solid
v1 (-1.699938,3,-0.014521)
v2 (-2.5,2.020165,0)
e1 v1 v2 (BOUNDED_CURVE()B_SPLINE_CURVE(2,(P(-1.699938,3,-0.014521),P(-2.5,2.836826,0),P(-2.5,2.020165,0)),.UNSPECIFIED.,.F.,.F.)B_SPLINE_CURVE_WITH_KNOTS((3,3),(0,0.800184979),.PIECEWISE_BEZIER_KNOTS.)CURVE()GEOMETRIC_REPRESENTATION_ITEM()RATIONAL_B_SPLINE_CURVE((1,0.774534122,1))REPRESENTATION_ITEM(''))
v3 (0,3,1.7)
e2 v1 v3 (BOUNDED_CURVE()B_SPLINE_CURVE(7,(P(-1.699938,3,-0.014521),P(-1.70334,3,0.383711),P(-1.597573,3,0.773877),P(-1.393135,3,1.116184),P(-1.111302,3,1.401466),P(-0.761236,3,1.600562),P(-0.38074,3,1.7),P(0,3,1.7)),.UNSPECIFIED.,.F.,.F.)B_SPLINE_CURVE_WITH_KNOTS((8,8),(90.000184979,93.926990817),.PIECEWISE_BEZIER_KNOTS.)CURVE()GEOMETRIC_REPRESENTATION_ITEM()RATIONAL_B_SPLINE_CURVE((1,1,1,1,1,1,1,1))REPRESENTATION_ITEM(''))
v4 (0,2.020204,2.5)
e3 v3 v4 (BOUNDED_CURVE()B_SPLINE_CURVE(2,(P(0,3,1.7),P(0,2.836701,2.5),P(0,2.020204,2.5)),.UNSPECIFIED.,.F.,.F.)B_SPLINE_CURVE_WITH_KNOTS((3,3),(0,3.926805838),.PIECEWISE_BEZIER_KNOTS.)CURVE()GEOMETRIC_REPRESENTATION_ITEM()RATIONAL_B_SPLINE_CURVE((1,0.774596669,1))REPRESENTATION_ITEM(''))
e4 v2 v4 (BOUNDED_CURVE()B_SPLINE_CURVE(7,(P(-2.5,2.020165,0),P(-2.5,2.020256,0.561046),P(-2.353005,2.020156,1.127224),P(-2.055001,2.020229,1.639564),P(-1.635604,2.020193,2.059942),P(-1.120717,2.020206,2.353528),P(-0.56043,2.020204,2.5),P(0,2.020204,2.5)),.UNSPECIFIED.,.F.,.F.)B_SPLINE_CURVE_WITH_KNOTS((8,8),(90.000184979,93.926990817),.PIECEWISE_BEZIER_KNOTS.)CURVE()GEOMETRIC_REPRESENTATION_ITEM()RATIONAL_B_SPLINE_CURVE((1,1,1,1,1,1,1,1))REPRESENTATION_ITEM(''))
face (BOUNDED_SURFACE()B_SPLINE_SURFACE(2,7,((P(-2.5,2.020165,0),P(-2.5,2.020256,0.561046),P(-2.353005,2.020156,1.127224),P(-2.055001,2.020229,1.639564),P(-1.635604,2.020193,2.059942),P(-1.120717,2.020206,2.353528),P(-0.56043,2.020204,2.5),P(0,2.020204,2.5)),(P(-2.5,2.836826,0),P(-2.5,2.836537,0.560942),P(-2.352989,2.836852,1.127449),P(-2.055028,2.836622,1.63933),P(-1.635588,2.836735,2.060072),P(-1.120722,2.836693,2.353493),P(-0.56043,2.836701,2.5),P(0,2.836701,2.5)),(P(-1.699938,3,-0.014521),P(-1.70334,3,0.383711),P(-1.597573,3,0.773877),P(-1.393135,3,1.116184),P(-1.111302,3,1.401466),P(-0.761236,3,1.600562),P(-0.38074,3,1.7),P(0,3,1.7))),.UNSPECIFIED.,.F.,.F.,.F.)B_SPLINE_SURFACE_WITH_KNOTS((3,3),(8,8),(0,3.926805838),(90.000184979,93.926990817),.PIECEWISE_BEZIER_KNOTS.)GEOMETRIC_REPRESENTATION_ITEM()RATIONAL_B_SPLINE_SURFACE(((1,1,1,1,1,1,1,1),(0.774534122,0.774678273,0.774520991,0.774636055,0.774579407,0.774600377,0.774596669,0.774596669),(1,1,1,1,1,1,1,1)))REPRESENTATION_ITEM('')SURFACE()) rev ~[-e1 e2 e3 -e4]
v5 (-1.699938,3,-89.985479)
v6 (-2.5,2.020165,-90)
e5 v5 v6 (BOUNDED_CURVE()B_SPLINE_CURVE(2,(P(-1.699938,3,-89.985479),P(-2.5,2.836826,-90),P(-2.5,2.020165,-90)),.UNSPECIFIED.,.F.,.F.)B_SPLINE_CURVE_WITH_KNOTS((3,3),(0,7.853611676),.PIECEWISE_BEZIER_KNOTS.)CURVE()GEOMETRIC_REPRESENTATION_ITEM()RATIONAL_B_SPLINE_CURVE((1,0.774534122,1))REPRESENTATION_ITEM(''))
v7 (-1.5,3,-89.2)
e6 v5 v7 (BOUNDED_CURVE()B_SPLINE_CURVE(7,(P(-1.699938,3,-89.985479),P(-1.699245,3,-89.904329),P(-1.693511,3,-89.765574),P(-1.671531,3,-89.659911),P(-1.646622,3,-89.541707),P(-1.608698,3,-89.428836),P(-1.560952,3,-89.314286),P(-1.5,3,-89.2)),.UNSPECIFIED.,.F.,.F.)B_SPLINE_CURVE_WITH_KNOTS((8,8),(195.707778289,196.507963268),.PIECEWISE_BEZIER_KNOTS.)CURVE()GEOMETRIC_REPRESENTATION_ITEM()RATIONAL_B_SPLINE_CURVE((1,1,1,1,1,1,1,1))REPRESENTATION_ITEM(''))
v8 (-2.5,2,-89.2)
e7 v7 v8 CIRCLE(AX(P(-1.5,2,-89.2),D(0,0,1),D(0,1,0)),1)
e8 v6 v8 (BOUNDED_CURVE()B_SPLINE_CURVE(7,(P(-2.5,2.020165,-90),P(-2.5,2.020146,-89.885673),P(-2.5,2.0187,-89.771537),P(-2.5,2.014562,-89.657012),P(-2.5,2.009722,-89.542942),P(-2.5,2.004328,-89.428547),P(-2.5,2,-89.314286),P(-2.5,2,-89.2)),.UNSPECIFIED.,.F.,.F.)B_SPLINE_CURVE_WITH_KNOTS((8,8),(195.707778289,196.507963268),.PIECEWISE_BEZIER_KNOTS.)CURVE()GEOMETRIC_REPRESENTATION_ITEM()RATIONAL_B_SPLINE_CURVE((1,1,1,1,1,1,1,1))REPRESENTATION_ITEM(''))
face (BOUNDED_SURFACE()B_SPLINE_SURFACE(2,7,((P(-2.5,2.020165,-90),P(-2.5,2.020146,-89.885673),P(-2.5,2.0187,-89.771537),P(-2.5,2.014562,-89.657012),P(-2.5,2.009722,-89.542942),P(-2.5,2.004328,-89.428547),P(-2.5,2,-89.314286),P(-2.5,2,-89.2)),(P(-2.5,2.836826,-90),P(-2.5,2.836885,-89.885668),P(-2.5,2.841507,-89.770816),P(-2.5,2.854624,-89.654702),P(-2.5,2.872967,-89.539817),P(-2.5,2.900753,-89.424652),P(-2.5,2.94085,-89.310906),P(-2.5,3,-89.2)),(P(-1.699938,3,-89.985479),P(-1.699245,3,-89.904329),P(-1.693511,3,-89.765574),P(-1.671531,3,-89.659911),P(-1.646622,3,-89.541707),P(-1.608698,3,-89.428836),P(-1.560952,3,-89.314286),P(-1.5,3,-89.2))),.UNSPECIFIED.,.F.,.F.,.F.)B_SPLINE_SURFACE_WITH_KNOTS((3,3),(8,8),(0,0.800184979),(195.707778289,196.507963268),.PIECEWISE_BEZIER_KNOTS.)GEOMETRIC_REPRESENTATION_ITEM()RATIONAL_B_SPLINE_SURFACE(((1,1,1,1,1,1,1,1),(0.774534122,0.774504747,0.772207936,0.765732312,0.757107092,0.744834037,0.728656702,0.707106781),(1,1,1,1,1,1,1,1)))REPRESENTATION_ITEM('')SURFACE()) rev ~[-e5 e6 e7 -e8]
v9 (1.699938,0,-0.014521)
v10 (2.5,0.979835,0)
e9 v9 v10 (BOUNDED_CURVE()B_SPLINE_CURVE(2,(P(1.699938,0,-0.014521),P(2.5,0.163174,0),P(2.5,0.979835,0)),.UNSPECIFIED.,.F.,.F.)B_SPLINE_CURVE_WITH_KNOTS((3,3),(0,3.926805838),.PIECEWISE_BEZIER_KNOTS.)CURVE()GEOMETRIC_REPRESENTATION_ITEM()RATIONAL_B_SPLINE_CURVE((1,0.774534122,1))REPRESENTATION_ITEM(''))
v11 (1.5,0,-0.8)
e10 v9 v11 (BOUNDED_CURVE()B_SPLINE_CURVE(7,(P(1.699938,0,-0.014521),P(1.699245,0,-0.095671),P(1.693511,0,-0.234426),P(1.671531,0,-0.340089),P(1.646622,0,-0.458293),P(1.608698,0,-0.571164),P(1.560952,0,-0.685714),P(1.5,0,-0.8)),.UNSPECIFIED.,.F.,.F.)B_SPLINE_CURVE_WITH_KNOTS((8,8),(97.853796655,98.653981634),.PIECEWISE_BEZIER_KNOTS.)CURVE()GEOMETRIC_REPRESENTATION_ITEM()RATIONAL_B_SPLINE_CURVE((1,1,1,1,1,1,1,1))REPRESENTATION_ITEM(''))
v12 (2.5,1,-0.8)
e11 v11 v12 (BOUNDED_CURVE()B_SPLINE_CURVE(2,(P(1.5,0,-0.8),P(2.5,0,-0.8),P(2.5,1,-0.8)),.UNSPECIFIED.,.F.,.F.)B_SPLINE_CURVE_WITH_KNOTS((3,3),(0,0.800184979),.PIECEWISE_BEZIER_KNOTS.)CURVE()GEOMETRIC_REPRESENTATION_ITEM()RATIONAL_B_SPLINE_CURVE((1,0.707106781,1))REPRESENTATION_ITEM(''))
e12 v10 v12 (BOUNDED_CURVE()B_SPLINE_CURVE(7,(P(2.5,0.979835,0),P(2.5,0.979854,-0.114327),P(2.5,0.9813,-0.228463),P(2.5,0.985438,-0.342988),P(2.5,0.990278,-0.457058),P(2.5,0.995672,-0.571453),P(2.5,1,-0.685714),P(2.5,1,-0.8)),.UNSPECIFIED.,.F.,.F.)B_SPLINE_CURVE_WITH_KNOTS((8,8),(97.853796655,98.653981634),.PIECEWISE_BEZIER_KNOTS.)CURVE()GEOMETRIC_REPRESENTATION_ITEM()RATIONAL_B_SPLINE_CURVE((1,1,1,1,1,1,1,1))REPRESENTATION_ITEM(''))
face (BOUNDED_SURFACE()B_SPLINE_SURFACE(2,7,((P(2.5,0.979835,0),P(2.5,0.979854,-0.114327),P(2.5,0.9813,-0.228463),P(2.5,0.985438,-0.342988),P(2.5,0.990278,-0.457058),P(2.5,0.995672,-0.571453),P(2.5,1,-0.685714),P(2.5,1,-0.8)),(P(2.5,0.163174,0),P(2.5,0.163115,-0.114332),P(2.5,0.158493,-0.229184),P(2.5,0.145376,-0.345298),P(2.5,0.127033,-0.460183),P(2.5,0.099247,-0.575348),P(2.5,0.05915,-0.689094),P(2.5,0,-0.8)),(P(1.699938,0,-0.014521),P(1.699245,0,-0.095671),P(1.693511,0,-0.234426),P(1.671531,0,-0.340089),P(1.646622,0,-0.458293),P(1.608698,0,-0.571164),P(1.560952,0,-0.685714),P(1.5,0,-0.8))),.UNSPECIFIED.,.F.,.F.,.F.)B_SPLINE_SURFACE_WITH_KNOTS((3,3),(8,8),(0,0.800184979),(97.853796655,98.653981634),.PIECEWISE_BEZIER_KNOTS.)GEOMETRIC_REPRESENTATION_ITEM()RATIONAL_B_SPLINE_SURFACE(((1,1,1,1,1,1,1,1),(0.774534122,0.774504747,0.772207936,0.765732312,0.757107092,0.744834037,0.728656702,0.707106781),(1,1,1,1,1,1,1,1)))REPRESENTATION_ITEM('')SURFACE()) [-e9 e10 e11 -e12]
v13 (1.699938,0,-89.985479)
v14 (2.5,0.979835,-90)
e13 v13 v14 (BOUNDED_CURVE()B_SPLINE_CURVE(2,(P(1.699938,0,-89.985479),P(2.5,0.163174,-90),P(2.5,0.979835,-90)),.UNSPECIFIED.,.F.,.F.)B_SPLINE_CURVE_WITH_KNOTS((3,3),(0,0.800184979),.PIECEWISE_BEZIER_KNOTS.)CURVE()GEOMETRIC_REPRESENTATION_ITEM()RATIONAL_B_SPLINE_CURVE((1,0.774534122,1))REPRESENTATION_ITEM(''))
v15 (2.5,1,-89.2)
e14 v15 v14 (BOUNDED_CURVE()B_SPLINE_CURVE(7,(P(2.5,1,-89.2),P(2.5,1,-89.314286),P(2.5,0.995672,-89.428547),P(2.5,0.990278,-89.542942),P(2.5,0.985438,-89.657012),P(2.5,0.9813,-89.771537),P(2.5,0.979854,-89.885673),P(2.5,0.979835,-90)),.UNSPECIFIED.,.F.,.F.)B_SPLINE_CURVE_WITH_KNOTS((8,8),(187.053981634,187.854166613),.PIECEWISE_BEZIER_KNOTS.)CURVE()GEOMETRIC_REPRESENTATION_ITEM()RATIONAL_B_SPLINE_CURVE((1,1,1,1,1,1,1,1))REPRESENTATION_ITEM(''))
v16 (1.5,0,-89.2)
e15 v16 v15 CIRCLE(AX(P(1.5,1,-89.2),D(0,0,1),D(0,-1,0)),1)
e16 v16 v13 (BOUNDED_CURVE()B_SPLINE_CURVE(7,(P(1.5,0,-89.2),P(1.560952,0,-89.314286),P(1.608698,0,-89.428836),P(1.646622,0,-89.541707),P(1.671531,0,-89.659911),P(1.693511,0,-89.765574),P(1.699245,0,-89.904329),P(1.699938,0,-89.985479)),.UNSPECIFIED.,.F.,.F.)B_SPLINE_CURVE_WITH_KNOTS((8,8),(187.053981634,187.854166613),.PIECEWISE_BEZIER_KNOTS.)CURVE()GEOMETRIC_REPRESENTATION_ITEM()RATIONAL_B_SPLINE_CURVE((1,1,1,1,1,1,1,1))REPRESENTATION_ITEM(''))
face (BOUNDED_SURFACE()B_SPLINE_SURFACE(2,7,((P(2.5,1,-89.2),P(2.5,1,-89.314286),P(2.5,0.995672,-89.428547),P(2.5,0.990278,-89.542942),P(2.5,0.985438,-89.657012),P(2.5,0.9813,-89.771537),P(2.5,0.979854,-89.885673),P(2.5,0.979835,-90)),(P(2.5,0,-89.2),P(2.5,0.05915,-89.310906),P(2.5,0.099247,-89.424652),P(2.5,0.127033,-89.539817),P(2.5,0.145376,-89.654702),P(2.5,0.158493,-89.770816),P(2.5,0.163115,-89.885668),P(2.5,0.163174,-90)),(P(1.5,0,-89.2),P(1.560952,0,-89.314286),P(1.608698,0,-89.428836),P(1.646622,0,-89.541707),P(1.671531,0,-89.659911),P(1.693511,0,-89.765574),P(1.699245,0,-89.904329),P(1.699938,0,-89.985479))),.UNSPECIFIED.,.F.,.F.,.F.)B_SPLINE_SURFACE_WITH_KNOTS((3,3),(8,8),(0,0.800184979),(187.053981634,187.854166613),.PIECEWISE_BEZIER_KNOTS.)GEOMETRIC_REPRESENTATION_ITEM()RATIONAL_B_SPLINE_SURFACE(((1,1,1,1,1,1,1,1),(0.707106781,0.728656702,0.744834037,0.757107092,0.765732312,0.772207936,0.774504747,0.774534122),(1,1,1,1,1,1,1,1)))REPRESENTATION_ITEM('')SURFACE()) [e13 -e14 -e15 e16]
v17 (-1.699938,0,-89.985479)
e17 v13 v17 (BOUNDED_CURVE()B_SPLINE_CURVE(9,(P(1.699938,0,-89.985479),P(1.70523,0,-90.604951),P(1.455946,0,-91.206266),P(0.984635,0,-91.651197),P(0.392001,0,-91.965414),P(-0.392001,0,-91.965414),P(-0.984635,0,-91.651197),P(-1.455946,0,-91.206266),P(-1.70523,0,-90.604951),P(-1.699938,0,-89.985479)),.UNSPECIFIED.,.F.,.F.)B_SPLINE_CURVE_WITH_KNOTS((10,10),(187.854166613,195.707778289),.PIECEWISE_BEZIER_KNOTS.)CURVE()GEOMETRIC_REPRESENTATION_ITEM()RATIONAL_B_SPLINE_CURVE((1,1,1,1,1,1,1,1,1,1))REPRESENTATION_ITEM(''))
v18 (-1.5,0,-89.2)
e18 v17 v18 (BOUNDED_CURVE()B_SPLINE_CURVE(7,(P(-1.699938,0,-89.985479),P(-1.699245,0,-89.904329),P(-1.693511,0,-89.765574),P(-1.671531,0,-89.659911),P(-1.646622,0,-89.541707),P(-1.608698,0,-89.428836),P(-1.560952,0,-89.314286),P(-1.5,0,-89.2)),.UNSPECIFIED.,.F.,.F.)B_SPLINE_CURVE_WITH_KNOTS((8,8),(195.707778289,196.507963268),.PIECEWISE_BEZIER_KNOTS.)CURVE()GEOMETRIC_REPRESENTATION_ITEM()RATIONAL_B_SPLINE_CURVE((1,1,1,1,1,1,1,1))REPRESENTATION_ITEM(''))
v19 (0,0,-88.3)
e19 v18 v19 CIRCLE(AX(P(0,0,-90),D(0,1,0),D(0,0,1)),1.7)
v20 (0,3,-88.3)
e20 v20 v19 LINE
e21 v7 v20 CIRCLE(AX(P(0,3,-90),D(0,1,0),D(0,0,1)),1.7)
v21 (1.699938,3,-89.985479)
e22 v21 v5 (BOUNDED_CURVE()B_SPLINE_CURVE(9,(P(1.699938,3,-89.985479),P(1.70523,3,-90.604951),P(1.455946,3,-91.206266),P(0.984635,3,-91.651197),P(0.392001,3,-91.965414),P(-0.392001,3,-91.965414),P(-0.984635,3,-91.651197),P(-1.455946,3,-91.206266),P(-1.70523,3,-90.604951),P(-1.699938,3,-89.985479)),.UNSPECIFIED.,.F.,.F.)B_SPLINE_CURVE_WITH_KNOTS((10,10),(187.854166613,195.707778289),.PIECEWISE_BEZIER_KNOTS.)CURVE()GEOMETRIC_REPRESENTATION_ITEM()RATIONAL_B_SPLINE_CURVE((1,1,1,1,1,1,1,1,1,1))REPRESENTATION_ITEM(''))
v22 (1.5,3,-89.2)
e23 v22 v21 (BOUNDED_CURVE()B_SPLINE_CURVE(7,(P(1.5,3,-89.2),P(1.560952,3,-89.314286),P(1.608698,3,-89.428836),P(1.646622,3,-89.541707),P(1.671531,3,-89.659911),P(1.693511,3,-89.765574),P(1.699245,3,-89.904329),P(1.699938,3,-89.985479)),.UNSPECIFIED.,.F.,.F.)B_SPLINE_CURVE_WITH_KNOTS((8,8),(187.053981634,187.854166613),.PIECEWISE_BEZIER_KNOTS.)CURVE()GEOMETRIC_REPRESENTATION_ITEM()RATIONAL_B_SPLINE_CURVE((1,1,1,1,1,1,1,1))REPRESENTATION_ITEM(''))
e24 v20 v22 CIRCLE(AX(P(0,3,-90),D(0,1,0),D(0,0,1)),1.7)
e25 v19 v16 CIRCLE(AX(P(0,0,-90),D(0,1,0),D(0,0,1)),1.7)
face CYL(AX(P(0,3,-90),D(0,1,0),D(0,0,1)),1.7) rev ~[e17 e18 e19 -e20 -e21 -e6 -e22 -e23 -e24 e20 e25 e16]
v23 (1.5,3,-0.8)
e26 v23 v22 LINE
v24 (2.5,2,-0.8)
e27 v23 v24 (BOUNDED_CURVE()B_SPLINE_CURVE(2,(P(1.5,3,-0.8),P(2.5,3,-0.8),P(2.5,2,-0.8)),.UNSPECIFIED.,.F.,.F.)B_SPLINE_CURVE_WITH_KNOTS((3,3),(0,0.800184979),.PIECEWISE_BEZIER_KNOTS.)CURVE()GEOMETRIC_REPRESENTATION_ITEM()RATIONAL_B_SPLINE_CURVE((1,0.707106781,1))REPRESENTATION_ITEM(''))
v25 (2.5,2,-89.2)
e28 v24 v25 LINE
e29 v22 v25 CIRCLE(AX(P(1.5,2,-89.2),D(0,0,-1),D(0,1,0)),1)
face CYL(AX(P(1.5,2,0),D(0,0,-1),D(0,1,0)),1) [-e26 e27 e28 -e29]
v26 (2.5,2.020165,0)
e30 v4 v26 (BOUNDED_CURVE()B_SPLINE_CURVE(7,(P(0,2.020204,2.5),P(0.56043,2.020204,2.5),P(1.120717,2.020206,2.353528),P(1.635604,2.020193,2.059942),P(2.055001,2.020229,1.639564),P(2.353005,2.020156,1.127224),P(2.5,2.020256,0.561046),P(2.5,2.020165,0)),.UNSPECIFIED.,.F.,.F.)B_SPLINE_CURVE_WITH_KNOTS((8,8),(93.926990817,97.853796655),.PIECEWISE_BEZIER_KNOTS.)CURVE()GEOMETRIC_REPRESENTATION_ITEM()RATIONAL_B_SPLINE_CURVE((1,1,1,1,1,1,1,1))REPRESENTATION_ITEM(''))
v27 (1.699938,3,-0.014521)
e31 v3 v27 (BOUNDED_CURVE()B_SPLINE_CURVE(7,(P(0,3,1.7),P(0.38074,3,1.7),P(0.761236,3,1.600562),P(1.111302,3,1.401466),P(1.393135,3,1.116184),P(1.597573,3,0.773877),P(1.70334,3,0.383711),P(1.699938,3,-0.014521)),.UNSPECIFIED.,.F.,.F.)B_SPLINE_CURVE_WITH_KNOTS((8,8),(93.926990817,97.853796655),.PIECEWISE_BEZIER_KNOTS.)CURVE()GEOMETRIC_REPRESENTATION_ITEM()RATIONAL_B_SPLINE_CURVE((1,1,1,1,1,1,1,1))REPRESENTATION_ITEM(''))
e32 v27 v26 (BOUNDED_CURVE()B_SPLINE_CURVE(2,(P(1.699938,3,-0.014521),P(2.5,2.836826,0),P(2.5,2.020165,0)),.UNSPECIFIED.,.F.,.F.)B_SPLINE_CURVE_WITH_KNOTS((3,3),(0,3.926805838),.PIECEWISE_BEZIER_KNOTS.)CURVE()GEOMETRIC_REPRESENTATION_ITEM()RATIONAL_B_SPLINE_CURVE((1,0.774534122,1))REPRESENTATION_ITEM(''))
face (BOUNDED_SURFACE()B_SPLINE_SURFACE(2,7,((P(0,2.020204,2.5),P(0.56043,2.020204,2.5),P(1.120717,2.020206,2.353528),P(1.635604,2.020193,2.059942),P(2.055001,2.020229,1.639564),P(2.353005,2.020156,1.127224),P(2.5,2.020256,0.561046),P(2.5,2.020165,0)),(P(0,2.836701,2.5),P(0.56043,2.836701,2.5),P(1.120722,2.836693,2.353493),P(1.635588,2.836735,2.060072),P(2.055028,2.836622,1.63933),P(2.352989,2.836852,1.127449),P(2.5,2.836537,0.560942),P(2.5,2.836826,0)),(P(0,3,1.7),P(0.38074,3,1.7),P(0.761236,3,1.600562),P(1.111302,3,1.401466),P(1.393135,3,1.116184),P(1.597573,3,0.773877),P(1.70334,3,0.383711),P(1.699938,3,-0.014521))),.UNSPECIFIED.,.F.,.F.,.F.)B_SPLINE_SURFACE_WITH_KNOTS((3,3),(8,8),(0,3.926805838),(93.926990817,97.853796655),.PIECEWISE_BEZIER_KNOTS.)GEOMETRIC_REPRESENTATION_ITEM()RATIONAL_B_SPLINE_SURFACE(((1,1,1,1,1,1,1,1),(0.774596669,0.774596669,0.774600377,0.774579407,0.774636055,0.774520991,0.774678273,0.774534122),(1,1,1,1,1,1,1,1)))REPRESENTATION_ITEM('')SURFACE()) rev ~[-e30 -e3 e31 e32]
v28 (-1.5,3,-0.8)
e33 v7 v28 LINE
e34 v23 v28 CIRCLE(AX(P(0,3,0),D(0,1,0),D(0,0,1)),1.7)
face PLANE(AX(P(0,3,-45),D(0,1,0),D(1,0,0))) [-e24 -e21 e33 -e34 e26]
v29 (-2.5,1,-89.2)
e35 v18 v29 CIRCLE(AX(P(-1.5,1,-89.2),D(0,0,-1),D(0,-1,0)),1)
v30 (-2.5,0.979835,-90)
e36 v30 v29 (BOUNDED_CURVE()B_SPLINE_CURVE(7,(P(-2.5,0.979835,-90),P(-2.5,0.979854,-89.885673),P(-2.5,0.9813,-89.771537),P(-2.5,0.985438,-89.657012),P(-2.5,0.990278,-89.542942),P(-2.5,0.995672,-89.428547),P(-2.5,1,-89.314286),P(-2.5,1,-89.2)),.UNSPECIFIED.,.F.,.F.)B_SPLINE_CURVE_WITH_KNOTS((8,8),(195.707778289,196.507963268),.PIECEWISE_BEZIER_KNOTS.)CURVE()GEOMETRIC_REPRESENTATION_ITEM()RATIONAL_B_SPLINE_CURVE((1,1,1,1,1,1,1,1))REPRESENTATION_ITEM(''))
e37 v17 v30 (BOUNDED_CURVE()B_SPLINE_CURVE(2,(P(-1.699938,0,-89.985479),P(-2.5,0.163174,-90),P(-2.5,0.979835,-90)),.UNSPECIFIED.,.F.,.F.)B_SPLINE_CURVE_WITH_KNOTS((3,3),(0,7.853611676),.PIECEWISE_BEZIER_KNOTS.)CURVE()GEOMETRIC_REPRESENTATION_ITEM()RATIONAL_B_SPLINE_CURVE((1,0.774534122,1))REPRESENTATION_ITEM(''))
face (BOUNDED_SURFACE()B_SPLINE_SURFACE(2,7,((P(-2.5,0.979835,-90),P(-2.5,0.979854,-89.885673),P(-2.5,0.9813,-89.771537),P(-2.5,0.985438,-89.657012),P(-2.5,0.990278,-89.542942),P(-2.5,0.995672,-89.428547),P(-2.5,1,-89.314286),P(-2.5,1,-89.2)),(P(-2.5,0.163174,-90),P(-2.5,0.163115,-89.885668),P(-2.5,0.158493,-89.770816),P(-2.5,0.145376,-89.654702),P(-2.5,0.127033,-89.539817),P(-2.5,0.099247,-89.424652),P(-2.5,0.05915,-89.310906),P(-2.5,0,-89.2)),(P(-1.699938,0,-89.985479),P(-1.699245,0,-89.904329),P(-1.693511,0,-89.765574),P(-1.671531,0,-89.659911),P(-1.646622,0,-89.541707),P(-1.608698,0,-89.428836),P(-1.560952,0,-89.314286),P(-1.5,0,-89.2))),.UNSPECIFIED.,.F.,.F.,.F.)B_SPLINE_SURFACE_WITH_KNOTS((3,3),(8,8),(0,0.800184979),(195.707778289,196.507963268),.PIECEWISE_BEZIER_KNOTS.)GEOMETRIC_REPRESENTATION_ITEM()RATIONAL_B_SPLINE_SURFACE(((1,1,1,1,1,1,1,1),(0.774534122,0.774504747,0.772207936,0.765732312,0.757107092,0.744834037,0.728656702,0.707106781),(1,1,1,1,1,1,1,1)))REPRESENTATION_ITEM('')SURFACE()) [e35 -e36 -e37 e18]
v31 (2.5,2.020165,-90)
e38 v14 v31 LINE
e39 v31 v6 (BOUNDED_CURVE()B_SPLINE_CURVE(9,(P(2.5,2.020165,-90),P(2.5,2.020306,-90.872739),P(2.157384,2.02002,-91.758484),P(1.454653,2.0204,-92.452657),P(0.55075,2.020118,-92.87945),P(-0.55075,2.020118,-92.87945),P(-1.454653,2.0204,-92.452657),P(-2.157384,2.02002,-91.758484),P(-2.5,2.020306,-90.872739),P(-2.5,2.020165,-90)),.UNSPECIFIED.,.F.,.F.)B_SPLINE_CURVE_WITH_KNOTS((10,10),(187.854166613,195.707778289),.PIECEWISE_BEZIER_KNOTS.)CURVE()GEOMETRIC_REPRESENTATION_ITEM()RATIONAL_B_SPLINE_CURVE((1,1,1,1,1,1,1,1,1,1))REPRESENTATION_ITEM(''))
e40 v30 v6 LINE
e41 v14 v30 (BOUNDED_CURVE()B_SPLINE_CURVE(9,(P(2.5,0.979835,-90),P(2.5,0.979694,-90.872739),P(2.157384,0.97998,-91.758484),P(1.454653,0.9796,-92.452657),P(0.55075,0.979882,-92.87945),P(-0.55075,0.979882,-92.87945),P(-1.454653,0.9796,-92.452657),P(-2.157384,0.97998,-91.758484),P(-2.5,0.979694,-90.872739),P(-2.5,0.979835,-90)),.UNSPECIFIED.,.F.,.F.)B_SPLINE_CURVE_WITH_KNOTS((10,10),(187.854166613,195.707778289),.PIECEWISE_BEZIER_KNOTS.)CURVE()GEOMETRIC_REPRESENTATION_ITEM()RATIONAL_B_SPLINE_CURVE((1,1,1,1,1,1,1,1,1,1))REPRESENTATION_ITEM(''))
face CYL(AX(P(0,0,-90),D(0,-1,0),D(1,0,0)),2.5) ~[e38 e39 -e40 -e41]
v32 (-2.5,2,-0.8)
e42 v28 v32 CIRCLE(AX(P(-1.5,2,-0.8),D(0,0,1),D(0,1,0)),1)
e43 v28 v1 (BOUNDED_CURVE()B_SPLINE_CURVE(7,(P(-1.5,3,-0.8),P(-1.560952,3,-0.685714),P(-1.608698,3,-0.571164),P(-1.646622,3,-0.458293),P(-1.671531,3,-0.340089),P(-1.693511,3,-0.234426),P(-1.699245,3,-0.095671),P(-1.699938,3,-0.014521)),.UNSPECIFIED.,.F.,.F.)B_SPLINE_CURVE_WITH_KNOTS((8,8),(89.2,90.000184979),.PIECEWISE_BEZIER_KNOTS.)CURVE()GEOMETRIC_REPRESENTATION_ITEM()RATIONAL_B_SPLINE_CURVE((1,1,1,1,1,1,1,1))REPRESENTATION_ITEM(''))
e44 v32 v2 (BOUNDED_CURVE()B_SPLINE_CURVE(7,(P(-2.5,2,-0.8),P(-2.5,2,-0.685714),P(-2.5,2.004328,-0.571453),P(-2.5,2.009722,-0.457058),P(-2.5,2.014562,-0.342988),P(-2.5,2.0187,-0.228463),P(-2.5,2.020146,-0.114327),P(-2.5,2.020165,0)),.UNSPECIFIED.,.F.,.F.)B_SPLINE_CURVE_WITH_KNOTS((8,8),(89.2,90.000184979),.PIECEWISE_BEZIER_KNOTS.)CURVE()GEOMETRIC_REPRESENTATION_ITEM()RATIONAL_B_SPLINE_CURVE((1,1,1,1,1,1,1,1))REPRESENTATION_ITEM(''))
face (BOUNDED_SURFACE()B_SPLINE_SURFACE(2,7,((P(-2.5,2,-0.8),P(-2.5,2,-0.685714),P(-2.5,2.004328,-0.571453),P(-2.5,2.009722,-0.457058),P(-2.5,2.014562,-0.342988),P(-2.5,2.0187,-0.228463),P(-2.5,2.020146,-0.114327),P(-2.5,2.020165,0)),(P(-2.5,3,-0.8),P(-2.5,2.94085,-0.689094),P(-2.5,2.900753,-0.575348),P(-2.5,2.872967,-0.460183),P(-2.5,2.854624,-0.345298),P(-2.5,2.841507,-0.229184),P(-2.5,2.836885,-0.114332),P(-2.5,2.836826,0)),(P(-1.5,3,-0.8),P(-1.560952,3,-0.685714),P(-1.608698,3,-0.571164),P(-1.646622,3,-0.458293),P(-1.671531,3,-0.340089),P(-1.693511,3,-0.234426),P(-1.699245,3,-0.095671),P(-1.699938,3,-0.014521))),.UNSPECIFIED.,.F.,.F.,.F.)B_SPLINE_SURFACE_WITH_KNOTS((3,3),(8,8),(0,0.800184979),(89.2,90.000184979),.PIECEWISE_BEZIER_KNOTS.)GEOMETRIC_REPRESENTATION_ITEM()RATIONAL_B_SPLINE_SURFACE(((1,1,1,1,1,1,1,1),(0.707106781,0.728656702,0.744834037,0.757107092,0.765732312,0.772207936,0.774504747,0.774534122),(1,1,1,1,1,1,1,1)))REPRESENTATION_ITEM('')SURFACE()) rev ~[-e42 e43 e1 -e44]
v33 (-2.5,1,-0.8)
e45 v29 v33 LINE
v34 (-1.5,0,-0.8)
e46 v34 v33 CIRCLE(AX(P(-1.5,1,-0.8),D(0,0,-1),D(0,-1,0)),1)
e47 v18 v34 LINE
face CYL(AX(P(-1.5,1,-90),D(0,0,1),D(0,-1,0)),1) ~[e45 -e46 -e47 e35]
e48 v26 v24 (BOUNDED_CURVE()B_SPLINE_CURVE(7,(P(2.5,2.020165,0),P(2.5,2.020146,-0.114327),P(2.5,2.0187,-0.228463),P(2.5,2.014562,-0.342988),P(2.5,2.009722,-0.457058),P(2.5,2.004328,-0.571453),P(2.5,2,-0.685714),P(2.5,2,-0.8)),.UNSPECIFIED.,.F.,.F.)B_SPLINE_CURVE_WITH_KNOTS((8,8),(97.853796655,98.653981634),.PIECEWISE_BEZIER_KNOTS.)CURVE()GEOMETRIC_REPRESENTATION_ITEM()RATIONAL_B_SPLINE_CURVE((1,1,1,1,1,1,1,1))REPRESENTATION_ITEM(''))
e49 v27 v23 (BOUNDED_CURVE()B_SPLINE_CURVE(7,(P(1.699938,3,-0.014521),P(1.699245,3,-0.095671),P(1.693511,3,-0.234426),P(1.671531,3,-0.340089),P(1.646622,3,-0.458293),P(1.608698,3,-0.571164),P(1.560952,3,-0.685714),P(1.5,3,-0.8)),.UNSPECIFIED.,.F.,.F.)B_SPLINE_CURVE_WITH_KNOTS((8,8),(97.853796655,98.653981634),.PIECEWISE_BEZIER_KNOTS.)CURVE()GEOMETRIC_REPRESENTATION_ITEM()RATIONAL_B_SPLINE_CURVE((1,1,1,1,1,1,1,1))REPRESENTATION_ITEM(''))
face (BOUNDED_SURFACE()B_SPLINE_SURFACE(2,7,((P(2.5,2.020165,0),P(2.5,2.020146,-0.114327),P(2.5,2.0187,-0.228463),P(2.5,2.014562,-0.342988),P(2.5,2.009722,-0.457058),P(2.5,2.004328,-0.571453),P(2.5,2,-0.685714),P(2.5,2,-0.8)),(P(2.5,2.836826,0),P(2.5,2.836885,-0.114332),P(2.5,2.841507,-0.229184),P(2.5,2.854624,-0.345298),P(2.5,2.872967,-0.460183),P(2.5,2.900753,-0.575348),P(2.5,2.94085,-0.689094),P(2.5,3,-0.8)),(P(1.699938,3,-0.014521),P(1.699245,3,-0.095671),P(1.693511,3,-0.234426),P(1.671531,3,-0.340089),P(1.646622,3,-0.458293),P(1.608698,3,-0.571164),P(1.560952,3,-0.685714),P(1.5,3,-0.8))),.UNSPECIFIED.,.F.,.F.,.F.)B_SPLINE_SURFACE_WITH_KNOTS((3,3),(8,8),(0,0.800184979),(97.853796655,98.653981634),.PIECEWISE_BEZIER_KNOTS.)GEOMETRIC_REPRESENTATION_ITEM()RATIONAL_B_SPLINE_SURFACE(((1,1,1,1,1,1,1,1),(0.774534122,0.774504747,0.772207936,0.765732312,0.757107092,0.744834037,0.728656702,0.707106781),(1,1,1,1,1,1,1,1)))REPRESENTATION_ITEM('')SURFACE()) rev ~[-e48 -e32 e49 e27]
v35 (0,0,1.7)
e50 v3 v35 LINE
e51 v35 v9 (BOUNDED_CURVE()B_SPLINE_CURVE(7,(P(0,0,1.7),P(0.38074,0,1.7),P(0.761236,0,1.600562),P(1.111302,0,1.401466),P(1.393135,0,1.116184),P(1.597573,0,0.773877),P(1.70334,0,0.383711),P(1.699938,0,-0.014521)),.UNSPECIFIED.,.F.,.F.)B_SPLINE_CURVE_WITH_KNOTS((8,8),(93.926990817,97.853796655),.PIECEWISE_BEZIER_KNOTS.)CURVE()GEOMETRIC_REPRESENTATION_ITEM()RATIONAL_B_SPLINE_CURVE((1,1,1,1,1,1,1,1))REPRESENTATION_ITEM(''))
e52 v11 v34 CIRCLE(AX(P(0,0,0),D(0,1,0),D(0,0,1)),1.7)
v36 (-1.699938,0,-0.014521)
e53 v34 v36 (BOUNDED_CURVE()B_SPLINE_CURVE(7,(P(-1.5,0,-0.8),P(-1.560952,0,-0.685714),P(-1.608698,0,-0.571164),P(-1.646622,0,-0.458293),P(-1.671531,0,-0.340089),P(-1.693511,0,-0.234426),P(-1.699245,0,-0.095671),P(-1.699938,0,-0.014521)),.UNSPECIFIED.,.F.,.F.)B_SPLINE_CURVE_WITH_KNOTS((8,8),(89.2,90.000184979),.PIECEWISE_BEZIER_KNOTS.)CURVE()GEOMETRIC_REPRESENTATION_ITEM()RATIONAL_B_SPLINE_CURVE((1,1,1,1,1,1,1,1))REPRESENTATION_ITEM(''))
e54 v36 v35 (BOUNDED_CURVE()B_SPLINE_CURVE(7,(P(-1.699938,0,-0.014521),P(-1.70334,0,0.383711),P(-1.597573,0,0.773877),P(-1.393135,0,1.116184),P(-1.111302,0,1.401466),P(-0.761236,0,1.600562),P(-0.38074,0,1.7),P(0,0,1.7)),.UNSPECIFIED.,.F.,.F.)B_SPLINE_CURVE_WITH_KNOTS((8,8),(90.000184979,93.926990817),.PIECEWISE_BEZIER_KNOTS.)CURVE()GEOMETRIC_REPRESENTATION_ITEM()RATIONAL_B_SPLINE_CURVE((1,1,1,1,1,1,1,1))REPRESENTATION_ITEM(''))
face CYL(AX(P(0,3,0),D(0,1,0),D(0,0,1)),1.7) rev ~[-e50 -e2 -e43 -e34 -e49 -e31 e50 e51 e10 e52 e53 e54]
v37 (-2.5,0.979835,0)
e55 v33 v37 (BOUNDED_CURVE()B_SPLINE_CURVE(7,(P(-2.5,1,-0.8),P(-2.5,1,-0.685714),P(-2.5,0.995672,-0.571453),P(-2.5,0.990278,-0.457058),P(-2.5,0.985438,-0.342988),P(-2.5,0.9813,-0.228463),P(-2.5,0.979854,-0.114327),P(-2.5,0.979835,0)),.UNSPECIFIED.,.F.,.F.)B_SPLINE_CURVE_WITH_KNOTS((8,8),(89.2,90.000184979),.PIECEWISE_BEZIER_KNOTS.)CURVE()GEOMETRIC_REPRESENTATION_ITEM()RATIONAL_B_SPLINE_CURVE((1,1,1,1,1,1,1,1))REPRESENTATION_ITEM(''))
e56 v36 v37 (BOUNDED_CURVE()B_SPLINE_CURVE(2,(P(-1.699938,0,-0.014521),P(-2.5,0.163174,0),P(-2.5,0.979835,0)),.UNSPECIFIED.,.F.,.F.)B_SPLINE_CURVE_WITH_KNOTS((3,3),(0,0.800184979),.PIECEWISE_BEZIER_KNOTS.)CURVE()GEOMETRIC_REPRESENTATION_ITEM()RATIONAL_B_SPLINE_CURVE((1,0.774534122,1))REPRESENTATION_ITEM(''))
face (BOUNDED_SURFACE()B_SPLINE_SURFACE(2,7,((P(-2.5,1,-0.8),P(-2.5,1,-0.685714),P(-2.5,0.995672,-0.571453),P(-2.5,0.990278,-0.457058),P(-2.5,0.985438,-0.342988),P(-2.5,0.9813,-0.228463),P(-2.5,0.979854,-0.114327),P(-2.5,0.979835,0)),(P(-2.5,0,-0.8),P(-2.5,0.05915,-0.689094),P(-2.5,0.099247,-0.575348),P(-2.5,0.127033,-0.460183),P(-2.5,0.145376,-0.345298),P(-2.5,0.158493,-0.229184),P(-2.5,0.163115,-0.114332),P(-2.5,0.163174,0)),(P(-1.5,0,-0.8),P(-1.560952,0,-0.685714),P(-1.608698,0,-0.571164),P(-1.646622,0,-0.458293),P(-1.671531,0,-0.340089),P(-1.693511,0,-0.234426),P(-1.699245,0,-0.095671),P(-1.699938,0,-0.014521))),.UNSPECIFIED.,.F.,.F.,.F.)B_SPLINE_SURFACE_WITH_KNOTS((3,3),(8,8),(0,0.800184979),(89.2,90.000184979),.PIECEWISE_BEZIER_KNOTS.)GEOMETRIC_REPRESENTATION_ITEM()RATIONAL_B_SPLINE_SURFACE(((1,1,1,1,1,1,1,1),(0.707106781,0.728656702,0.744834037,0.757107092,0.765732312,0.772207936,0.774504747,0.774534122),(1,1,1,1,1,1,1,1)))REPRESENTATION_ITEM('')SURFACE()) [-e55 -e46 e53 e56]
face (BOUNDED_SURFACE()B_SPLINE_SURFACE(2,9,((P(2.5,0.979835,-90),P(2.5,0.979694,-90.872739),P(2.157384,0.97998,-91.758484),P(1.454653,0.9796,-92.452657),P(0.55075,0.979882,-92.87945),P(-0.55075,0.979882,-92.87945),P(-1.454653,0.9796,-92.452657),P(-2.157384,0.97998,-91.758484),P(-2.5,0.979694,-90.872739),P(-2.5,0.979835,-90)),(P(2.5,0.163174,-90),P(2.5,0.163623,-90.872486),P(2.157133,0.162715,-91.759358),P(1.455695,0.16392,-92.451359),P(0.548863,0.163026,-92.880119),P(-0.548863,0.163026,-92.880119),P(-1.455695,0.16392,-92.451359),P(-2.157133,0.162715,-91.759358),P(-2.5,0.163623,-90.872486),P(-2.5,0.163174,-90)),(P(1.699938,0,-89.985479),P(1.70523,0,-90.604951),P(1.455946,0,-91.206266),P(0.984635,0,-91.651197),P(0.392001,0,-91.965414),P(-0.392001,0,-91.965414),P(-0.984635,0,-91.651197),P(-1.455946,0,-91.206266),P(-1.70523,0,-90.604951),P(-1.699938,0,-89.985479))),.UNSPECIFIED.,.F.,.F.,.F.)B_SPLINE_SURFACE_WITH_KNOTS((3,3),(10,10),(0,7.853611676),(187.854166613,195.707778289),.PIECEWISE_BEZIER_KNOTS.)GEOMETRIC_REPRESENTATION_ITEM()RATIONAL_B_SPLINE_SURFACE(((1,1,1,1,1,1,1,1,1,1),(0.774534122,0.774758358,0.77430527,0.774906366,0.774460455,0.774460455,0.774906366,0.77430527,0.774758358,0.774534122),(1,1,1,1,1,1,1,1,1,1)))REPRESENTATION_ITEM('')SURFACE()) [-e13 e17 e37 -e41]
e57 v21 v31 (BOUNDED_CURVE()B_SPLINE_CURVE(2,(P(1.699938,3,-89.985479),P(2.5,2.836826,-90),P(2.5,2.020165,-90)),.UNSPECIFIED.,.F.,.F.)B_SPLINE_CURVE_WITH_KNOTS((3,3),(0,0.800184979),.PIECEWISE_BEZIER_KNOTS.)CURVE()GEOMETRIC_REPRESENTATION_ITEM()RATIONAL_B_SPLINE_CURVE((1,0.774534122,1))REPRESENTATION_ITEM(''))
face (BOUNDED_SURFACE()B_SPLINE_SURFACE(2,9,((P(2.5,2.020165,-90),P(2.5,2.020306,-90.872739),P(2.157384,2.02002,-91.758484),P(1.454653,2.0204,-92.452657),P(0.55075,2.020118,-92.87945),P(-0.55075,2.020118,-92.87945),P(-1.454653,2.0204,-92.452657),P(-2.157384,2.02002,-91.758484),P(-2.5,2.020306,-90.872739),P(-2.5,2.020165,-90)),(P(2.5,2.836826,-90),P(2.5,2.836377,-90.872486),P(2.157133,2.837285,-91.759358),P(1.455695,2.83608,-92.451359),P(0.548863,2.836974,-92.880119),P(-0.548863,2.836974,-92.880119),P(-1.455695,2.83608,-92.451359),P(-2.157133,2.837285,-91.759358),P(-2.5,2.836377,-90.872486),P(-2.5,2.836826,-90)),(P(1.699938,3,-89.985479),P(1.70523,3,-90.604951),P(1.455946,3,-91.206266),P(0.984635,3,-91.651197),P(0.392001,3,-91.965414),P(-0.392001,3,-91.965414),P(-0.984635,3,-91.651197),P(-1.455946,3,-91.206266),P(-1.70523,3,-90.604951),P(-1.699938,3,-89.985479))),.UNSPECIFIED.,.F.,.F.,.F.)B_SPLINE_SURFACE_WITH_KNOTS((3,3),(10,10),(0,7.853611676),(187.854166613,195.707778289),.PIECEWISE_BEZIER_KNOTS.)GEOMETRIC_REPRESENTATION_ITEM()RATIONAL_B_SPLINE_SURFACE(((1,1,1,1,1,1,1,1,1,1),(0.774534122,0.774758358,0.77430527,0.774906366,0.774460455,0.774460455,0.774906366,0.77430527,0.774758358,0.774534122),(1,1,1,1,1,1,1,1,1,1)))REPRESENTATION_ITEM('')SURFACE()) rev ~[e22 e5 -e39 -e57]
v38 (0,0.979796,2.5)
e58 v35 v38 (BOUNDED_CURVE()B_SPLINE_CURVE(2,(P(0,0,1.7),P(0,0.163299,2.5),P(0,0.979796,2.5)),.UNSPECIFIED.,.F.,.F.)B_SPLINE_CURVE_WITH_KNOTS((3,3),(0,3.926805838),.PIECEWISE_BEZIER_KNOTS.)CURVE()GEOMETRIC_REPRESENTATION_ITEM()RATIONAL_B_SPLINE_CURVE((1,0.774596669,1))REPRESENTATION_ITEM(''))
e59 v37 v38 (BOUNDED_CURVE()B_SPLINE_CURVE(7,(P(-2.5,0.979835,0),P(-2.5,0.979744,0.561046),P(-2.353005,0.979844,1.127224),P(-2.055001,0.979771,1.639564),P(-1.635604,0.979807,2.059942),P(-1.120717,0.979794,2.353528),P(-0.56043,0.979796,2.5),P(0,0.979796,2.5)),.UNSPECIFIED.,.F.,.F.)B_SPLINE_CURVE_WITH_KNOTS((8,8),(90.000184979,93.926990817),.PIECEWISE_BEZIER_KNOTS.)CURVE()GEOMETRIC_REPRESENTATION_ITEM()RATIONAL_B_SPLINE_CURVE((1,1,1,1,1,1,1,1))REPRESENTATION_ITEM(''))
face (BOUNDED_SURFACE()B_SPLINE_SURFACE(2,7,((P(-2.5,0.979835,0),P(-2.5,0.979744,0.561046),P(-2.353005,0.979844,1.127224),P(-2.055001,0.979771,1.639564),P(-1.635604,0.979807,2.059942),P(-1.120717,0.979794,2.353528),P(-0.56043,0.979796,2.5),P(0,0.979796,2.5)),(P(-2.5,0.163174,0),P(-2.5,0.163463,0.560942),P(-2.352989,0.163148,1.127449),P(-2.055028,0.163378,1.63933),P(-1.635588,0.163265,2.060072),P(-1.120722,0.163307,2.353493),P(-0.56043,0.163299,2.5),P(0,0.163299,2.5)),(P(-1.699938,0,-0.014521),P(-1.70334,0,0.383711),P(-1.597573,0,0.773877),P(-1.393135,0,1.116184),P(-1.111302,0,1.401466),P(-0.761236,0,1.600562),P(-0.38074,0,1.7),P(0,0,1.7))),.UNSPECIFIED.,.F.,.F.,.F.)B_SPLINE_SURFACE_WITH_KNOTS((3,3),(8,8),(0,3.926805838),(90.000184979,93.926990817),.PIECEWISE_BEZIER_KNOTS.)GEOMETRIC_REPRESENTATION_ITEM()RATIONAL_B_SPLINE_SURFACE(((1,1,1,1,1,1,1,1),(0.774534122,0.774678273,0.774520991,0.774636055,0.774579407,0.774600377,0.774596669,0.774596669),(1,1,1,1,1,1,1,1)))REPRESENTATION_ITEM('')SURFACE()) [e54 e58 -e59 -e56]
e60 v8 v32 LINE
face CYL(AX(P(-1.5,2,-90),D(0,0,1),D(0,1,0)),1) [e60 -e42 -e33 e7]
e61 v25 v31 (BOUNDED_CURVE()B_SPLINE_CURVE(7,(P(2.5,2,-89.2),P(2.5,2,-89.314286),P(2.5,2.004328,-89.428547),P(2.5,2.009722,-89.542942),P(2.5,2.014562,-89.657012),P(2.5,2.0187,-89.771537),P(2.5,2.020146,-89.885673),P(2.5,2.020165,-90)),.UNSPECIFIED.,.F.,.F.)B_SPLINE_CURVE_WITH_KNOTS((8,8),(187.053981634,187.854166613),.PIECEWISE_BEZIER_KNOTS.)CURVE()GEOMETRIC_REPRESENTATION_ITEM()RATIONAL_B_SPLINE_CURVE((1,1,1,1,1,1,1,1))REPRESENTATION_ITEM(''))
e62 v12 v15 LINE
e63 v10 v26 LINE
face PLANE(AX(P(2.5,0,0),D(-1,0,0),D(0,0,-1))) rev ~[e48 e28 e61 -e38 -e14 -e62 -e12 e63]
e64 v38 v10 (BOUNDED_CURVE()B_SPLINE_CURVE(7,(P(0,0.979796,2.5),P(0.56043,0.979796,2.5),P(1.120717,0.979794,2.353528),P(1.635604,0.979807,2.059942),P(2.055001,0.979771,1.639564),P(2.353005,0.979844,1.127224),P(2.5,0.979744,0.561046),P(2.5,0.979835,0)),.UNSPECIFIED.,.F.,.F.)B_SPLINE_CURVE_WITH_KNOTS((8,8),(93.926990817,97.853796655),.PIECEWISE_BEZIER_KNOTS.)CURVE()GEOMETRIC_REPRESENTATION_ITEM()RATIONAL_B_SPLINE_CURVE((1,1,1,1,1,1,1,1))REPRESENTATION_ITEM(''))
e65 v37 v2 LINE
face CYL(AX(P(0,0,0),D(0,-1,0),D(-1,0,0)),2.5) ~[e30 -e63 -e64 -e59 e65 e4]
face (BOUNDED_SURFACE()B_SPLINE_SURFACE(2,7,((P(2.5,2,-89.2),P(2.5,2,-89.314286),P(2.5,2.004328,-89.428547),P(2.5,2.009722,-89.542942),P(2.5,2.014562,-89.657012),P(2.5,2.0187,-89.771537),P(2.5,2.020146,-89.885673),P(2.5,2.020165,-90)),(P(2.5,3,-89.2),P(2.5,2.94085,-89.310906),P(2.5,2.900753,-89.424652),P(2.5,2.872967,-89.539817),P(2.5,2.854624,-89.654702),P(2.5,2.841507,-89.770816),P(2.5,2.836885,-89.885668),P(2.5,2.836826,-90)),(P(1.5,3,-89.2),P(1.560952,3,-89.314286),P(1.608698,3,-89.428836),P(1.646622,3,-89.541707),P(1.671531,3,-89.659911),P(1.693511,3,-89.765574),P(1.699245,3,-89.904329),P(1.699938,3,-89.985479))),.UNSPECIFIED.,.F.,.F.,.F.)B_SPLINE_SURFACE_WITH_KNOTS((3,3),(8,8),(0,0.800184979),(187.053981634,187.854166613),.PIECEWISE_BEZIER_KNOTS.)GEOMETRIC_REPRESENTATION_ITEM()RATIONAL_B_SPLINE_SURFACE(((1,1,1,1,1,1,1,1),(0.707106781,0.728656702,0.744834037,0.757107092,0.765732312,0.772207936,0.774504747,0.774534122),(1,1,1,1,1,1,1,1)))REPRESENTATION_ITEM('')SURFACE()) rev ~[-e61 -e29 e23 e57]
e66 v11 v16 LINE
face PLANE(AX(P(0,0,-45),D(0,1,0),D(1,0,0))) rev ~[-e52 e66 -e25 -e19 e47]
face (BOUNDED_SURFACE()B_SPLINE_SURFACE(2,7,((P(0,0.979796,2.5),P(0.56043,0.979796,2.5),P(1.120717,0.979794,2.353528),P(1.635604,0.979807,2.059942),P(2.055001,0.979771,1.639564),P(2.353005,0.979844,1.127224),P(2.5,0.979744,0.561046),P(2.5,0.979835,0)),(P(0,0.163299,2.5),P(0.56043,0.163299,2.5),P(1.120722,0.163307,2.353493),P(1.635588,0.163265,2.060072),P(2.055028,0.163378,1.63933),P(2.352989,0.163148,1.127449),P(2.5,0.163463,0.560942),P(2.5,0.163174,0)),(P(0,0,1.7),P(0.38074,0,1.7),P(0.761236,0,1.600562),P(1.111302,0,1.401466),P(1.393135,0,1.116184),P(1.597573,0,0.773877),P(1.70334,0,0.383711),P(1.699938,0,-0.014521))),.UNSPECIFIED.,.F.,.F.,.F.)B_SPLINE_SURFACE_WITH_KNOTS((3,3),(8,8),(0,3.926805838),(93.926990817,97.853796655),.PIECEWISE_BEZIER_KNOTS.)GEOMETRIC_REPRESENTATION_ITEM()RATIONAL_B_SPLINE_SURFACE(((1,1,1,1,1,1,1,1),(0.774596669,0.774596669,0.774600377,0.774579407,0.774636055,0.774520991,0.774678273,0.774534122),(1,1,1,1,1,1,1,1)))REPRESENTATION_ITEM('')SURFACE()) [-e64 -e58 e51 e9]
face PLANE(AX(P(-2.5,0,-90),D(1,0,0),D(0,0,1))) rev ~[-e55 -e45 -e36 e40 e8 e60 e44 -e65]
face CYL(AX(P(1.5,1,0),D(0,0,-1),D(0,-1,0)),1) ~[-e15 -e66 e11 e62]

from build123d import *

# Parameters (mm, degrees)
EXTRUDE_1_DEPTH     = 3
CUT_EXTRUDE_1_REACH = 94.582
SKETCH_2_R          = 1.7
FILLET_1_R          = 1


with BuildPart() as part:
    # 草图1 → 凸台-拉伸1 (new body)
    with BuildSketch(Plane(origin=(0, 0, 0), x_dir=(1, 0, 0), z_dir=(0, 1, 0))):
        with BuildLine():
            Line((2.5, 0), (2.5, 90))
            ThreePointArc((2.5, 90), (0, 92.5), (-2.5, 90))
            Line((-2.5, 90), (-2.5, 0))
            ThreePointArc((-2.5, 0), (0, -2.5), (2.5, 0))
        make_face()
    extrude(amount=EXTRUDE_1_DEPTH)

    # 草图2 → 切除-拉伸1 (cut, up to next)
    with BuildSketch(Plane(origin=(0, 3, 0), x_dir=(1, 0, 0), z_dir=(0, 1, 0)), mode=Mode.PRIVATE) as cut_extrude_1_sk1:
        with Locations(Location((0, 0, 0), (0, 0, 270))):
            Circle(SKETCH_2_R)
    cut_extrude_1_tool1 = extrude(cut_extrude_1_sk1.sketch, amount=-CUT_EXTRUDE_1_REACH, mode=Mode.PRIVATE) & part.part
    # 草图2 → 切除-拉伸1 (cut, up to next)
    with BuildSketch(Plane(origin=(0, 3, 0), x_dir=(1, 0, 0), z_dir=(0, 1, 0)), mode=Mode.PRIVATE) as cut_extrude_1_sk2:
        with Locations(Location((0, 90, 0), (0, 0, 270))):
            Circle(SKETCH_2_R)
    cut_extrude_1_tool2 = extrude(cut_extrude_1_sk2.sketch, amount=-CUT_EXTRUDE_1_REACH, mode=Mode.PRIVATE) & part.part
    add(cut_extrude_1_tool1.solids().sort_by_distance((0, 3, 0))[0], mode=Mode.SUBTRACT)
    add(cut_extrude_1_tool2.solids().sort_by_distance((0, 3, -90))[0], mode=Mode.SUBTRACT)

    # 圆角1
    fillet_1_edges = [part.edges().sort_by_distance(p)[0] for p in [
        (-2.5, 0, -45),
        (-2.5, 3, -45),
        (2.5, 0, -45),
        (2.5, 3, -45),
    ]]
    fillet(fillet_1_edges, radius=FILLET_1_R)


solid = part.part
